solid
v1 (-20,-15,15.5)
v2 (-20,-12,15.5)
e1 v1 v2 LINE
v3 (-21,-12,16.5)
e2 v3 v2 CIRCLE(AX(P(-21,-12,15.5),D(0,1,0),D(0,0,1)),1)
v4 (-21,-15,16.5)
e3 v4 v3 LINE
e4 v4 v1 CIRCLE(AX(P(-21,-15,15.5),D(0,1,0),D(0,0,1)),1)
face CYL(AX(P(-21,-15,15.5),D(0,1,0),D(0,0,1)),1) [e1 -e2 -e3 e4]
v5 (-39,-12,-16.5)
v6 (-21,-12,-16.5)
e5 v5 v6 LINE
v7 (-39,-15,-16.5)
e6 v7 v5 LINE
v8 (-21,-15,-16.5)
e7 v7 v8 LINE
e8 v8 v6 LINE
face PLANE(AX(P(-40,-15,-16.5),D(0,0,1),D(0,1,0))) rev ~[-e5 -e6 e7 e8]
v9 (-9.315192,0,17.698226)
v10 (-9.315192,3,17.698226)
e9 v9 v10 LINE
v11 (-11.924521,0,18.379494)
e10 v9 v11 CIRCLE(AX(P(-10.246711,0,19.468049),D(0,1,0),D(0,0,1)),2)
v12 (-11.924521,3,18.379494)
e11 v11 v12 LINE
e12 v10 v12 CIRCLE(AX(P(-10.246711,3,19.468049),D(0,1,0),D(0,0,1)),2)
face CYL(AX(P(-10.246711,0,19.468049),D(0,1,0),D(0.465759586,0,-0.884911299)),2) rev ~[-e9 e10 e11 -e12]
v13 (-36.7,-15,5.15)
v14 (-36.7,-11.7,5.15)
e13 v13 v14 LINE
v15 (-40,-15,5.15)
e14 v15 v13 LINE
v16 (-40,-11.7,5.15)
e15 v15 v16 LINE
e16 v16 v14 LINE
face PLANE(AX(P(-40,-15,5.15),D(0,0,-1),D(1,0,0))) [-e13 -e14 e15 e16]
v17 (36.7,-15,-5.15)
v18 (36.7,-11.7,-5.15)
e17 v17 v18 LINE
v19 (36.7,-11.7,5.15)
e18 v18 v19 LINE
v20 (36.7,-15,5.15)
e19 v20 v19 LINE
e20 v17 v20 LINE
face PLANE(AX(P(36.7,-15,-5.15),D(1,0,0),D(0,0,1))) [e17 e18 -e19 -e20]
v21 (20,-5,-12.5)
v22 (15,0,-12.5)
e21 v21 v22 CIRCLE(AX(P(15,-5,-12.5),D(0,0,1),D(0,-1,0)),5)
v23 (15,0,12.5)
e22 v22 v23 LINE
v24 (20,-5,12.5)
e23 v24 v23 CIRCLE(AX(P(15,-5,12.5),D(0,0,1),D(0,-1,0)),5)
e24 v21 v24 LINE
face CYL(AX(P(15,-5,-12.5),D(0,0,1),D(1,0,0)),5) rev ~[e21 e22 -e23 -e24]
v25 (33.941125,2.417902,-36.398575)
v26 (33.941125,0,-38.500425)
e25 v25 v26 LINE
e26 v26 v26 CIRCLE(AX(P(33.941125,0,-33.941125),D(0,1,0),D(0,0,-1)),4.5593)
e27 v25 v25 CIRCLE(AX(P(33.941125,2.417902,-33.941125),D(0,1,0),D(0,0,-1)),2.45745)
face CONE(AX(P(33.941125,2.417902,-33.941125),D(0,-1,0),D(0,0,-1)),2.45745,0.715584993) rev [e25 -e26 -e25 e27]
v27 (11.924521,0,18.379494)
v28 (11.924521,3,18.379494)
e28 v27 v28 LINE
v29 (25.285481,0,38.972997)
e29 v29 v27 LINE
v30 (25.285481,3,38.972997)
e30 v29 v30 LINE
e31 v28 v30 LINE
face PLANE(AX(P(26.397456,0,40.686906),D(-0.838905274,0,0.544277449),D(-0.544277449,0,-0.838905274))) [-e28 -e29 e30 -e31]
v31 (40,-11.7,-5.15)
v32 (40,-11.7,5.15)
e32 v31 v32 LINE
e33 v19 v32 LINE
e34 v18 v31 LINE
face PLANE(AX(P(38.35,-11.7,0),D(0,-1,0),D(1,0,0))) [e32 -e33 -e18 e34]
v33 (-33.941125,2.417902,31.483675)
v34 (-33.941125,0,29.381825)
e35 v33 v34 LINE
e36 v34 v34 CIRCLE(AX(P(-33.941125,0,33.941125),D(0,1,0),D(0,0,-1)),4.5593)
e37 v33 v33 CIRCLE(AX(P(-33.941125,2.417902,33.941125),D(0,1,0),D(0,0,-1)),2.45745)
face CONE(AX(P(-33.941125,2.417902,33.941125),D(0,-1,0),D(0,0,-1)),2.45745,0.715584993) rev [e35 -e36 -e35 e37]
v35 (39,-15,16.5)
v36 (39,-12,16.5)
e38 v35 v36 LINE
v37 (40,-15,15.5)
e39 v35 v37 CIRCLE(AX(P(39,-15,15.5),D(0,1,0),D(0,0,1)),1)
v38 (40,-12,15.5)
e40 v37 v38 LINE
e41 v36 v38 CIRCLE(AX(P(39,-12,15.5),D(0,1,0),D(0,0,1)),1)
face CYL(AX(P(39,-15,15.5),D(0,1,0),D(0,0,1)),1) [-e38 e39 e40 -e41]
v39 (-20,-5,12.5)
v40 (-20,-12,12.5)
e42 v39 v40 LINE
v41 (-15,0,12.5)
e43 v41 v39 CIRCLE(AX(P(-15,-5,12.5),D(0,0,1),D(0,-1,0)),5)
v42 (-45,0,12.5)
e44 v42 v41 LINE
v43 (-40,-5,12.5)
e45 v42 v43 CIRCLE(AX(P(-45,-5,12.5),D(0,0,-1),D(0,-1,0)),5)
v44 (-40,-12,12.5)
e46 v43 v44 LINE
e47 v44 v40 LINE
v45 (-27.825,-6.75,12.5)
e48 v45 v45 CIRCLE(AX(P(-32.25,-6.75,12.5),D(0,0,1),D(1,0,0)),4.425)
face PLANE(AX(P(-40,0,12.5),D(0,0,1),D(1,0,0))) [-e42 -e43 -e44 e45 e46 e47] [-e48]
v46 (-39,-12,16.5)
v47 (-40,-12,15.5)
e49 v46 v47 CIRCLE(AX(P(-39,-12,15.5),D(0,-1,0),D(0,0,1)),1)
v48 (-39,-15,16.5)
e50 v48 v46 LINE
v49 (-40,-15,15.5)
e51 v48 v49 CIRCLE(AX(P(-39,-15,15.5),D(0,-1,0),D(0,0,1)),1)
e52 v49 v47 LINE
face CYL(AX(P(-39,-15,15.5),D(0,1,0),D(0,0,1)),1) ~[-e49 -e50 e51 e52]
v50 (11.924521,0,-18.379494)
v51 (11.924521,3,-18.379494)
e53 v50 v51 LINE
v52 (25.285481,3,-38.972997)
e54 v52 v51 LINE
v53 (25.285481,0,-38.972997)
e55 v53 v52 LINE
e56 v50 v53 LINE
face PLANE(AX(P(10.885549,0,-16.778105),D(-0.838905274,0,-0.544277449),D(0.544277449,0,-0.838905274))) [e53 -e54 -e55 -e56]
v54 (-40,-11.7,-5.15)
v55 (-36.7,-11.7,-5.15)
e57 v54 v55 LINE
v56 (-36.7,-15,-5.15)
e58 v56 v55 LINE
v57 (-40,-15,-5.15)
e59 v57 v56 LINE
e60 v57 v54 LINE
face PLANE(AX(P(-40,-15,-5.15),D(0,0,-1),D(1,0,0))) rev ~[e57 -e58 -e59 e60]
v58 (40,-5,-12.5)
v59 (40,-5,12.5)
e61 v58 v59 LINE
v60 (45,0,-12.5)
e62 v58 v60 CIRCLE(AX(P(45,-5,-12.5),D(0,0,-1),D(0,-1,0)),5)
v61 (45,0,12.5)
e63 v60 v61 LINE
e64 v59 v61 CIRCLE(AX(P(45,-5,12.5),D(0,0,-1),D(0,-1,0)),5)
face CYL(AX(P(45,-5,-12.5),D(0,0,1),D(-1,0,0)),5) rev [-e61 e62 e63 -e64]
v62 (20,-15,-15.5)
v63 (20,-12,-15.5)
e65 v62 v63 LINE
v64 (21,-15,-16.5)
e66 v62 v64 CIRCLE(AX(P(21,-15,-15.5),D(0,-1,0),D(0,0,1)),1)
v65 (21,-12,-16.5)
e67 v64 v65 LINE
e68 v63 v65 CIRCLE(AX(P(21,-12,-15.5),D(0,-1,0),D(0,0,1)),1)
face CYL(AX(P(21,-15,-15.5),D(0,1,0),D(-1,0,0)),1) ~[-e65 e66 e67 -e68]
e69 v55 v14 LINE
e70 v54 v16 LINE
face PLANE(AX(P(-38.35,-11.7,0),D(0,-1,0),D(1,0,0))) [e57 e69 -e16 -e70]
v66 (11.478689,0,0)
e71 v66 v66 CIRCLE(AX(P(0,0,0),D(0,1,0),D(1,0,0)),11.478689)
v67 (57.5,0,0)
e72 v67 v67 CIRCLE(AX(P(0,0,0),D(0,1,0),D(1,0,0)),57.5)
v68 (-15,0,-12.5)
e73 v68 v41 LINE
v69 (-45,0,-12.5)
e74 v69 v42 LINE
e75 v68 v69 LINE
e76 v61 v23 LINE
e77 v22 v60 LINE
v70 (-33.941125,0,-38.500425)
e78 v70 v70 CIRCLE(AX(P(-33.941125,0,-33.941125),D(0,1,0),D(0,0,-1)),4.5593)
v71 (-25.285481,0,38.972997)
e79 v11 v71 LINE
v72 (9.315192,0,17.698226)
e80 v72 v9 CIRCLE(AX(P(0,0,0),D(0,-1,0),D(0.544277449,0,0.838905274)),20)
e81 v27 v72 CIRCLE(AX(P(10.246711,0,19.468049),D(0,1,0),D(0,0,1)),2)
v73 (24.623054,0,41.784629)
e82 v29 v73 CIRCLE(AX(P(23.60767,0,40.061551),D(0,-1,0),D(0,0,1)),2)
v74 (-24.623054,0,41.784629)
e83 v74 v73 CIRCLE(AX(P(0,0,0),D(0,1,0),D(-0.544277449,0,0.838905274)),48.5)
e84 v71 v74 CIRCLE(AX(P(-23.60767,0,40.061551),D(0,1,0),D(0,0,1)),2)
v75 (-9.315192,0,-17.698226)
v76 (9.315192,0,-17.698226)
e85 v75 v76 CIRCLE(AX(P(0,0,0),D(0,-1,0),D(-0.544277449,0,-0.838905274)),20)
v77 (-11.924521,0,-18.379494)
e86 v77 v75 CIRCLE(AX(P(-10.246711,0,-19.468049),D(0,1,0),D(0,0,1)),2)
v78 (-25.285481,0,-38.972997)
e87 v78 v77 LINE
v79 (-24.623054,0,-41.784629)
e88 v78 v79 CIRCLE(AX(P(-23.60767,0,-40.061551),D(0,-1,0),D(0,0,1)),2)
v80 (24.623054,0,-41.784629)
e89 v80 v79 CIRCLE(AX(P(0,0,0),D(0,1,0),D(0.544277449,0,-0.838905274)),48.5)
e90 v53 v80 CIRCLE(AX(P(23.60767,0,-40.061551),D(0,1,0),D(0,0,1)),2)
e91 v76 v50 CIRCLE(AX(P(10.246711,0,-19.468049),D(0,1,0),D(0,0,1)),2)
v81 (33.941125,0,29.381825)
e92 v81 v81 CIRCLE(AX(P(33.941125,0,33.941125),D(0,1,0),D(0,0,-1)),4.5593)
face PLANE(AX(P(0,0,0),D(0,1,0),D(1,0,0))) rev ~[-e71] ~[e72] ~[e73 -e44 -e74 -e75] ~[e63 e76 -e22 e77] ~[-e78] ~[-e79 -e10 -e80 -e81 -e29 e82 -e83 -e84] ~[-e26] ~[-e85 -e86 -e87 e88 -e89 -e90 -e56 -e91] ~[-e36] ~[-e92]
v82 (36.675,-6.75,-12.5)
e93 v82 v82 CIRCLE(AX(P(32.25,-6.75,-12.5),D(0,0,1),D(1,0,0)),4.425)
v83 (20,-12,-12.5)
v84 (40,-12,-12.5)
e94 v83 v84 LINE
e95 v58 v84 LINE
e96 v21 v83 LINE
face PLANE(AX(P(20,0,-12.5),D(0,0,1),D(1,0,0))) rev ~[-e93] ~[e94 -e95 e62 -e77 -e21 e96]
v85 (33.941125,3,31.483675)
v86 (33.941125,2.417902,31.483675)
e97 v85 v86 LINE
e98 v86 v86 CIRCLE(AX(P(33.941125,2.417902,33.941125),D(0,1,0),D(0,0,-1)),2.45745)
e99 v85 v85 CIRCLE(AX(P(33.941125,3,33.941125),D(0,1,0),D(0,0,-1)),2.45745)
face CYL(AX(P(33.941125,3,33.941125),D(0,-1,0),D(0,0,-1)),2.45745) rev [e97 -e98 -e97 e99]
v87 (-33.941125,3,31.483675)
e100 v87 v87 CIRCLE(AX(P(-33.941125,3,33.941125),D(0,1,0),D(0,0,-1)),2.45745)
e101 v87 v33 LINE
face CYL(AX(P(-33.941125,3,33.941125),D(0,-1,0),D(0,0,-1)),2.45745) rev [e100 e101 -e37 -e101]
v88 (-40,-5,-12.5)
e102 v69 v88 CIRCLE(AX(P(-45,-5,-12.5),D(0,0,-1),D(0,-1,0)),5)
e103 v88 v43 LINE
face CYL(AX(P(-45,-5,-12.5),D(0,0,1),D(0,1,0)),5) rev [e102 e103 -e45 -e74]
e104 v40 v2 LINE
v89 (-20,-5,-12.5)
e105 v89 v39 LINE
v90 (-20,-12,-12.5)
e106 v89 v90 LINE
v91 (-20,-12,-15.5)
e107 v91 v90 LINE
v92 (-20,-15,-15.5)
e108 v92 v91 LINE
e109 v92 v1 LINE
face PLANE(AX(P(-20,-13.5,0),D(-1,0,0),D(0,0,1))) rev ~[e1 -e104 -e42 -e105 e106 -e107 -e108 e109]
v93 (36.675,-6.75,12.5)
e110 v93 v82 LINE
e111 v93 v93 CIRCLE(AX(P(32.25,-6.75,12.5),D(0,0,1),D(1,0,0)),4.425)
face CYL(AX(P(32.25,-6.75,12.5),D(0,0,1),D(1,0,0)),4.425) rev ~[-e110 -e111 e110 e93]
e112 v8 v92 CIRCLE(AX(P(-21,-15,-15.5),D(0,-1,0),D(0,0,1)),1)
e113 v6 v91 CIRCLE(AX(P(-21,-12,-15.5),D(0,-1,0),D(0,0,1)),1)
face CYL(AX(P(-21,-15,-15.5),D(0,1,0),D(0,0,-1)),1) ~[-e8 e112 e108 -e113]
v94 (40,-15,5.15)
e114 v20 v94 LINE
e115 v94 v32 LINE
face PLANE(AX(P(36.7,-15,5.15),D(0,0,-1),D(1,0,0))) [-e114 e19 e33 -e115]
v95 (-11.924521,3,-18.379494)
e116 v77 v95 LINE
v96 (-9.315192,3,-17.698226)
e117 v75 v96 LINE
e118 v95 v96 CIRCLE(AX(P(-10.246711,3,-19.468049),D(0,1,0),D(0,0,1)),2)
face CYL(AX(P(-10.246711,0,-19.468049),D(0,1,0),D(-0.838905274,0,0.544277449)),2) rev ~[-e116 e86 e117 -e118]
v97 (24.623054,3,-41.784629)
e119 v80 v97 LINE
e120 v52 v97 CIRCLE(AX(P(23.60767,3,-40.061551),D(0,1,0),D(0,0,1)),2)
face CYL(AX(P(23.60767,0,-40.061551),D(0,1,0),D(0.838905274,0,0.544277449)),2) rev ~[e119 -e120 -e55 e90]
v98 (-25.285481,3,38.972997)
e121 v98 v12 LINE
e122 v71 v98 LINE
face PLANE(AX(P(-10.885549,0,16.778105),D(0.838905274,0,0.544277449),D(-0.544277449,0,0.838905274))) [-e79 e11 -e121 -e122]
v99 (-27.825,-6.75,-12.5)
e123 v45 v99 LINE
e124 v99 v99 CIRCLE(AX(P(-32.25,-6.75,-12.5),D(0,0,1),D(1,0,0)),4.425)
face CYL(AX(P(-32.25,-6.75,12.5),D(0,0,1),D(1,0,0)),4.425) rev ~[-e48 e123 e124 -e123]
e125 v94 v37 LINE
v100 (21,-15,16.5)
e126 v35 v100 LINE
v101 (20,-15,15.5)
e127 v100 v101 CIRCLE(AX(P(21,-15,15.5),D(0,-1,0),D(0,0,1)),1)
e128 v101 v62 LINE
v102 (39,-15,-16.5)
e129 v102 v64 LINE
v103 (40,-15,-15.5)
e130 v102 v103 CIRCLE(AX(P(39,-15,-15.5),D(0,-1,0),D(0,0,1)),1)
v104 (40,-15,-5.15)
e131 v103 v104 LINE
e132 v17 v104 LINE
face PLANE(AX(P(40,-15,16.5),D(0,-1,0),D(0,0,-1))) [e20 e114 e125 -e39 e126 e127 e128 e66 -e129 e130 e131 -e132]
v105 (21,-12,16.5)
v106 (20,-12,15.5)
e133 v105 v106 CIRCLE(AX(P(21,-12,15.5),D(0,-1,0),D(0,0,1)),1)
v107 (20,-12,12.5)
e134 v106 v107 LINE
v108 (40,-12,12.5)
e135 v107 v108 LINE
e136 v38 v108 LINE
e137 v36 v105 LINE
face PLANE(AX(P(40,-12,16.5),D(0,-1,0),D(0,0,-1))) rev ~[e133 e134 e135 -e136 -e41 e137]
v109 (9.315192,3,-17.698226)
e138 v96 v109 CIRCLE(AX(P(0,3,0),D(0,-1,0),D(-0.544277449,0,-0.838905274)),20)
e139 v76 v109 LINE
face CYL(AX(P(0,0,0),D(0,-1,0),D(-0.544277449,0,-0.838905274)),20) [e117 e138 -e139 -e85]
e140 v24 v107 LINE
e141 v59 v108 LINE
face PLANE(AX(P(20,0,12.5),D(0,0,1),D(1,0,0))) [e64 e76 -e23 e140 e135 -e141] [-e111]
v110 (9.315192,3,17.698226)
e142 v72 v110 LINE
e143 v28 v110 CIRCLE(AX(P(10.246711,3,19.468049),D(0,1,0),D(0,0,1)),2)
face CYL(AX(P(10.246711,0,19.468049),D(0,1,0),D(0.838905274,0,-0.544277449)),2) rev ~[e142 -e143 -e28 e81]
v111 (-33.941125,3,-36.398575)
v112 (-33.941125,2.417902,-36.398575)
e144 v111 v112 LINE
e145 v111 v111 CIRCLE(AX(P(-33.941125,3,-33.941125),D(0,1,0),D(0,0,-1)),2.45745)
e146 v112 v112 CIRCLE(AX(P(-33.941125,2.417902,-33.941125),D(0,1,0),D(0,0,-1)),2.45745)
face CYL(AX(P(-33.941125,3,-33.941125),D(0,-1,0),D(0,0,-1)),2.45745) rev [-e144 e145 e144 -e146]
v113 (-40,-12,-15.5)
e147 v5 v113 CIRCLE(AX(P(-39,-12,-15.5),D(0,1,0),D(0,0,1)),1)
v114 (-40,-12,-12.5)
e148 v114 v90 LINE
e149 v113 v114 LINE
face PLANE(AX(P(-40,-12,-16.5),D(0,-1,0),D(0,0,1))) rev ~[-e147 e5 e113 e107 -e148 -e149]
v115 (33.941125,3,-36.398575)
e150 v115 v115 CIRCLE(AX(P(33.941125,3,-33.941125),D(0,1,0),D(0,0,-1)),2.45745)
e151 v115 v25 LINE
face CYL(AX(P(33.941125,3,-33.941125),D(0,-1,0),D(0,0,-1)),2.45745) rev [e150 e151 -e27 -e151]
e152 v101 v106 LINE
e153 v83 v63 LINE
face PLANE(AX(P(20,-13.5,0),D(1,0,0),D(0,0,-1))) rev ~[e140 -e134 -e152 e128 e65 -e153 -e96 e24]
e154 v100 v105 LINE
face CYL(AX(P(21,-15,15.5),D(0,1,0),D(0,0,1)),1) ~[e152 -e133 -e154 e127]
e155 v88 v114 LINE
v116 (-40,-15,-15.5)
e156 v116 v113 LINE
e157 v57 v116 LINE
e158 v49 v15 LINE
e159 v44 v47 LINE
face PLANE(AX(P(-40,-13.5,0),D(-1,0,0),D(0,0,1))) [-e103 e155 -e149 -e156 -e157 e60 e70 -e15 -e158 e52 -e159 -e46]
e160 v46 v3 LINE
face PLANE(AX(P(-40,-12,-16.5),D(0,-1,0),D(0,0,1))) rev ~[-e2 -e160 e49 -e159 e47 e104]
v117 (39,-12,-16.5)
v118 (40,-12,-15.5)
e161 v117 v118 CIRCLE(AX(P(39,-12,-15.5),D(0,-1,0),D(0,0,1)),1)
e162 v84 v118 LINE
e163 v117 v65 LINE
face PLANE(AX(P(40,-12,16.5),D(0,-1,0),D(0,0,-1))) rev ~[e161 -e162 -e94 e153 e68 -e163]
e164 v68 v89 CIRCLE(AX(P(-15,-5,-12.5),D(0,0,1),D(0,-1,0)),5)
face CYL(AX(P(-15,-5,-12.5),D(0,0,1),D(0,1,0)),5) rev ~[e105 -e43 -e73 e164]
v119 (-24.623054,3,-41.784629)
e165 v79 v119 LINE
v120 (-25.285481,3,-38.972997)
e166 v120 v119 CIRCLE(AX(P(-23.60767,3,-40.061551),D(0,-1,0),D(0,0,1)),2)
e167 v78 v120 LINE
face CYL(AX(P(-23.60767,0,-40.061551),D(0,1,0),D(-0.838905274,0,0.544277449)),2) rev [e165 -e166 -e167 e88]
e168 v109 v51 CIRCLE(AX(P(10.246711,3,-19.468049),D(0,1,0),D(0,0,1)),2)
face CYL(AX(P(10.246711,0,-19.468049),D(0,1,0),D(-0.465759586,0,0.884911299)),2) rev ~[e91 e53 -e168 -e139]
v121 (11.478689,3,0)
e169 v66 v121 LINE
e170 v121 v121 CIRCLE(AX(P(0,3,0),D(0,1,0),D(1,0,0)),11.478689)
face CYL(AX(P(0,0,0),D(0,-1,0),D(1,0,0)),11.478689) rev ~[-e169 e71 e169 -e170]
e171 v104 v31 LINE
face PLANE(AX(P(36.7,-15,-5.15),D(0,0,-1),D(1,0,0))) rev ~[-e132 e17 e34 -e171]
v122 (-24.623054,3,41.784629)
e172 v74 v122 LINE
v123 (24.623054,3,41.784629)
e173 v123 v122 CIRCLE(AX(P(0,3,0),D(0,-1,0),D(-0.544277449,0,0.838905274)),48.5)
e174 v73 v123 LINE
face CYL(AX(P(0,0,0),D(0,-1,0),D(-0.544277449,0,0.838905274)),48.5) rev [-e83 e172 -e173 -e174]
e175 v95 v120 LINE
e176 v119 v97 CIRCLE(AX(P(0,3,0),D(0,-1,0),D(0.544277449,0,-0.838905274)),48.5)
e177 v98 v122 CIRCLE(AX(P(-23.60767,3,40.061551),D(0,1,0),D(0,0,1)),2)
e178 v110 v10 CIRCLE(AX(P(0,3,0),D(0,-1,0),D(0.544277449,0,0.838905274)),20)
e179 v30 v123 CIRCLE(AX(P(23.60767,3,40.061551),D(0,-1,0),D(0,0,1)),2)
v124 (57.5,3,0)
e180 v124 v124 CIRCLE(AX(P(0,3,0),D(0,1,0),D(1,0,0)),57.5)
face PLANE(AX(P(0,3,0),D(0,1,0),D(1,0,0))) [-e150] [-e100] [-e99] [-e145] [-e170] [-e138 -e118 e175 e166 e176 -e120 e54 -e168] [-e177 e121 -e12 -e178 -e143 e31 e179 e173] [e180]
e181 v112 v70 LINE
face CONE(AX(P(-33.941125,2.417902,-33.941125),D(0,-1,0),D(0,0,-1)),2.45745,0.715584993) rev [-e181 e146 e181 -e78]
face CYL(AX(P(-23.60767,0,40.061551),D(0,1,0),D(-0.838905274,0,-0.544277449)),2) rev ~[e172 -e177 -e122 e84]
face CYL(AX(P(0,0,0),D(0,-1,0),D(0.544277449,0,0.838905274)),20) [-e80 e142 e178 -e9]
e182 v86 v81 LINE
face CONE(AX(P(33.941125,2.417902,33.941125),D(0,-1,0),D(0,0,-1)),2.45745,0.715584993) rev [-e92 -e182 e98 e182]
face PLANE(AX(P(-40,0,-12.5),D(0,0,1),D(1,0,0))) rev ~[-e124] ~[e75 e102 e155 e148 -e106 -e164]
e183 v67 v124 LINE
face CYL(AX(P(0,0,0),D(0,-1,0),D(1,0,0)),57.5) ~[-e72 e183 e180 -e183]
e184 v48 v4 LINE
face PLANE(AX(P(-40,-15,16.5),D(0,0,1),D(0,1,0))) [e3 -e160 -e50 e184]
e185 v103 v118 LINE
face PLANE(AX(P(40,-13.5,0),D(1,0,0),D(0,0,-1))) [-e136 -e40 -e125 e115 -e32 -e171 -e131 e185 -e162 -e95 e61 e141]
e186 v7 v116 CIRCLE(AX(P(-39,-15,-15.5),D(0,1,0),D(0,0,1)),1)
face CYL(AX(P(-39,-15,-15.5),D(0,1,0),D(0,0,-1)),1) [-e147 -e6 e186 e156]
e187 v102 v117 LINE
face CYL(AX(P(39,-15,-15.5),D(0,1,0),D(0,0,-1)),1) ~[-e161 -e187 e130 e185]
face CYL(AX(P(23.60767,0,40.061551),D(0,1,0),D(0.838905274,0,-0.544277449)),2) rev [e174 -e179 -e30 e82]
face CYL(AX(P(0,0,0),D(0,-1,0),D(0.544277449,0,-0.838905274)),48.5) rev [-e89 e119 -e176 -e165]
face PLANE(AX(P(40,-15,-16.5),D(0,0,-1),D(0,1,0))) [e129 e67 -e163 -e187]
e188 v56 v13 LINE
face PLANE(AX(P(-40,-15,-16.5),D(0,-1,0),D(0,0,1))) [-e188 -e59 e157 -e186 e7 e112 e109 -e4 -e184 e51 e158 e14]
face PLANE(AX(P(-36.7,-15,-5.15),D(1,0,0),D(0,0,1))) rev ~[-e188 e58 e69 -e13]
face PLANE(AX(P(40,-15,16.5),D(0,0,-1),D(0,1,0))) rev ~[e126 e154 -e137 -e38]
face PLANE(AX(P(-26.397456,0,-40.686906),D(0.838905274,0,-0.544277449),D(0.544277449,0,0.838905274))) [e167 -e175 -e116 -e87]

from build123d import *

# Parameters (mm, degrees)
SKETCH1_R                                     = 57.5
SKETCH1_R_2                                   = 0.5
SKETCH1_W                                     = 9.3
SKETCH1_H                                     = 9.875
BOSS_EXTRUDE1_DEPTH                           = 3
CSK_FOR_8_FLAT_HEAD_SOCKET_CAP_SCREW1_A_COUNT = 2
CSK_FOR_8_FLAT_HEAD_SOCKET_CAP_SCREW1_A_PITCH = 67.882250994
CSK_FOR_8_FLAT_HEAD_SOCKET_CAP_SCRE_2_COUNT   = 2
CSK_FOR_8_FLAT_HEAD_SOCKET_CAP_SCRE_2_PITCH   = 96
CSK_FOR_8_FLAT_HEAD_SOCKET_CAP_SCRE_3_COUNT   = 2
CSK_FOR_8_FLAT_HEAD_SOCKET_CAP_SCRE_3_PITCH   = 67.882250994
SKETCH5_W                                     = 4.0625
SKETCH5_H                                     = 9.875
CUT_EXTRUDE2_DEPTH                            = 4
SKETCH6_W                                     = 20
SKETCH6_H                                     = 25
BOSS_EXTRUDE2_DEPTH                           = 15
SKETCH7_R                                     = 4.425
CUT_EXTRUDE3_DEPTH                            = 71
SKETCH8_W                                     = 33
SKETCH8_H                                     = 3
BOSS_EXTRUDE3_DEPTH                           = 20
SKETCH9_W                                     = 33
SKETCH9_H                                     = 3
BOSS_EXTRUDE4_DEPTH                           = 20
FILLET1_R                                     = 1
FILLET2_R                                     = 5
CUT_EXTRUDE4_DEPTH                            = 4
FILLET3_R                                     = 2
SKETCH11_W                                    = 3.3
SKETCH11_H                                    = 10.3
CUT_EXTRUDE5_DEPTH                            = 3.3
SKETCH12_R                                    = 11.478689494
CUT_EXTRUDE6_DEPTH                            = 4


with BuildPart() as part:
    # Sketch1 → Boss-Extrude1 (new body)
    with BuildSketch(Plane(origin=(0, 0, 0), x_dir=(1, 0, 0), z_dir=(0, 1, 0))):
        Circle(SKETCH1_R)
        with Locations((-33.941125497, 33.941125497)):
            Circle(SKETCH1_R_2, mode=Mode.SUBTRACT)
        with Locations((33.941125497, 33.941125497)):
            Circle(SKETCH1_R_2, mode=Mode.SUBTRACT)
        with Locations((33.941125497, -33.941125497)):
            Circle(SKETCH1_R_2, mode=Mode.SUBTRACT)
        with Locations((-33.941125497, -33.941125497)):
            Circle(SKETCH1_R_2, mode=Mode.SUBTRACT)
        with Locations((1.65, 0)):
            Rectangle(SKETCH1_W, SKETCH1_H, mode=Mode.SUBTRACT)
    extrude(amount=BOSS_EXTRUDE1_DEPTH)

    # Sketch2 → CSK for #8 Flat Head Socket Cap Screw1 (revolve, cut)
    with BuildSketch(Plane(origin=(-33.941125497, 0, 33.941125497), x_dir=(0, 0, -1), z_dir=(1, 0, 0))):
        Polygon((0, 0), (0, 3), (2.45745, 3), (2.45745, 2.417901837), (4.5593, 0), align=None)
    csk_for_8_flat_head_socket_cap_screw1 = revolve(axis=Axis((-33.941125497, -6.35, 33.941125497), (0, 1, 0)), mode=Mode.SUBTRACT)

    # CSK for #8 Flat Head Socket Cap Screw1 a: CSK for #8 Flat Head Socket Cap Screw1 ×2
    with Locations(*[(i * CSK_FOR_8_FLAT_HEAD_SOCKET_CAP_SCREW1_A_PITCH, 0, 0) for i in range(1, CSK_FOR_8_FLAT_HEAD_SOCKET_CAP_SCREW1_A_COUNT)]):
        add(csk_for_8_flat_head_socket_cap_screw1, mode=Mode.SUBTRACT)

    # CSK for _8 Flat Head Socket Cap Scre 2: CSK for #8 Flat Head Socket Cap Screw1 ×2
    with Locations(*[Vector(0.707106781, 0, -0.707106781) * (i * CSK_FOR_8_FLAT_HEAD_SOCKET_CAP_SCRE_2_PITCH) for i in range(1, CSK_FOR_8_FLAT_HEAD_SOCKET_CAP_SCRE_2_COUNT)]):
        add(csk_for_8_flat_head_socket_cap_screw1, mode=Mode.SUBTRACT)

    # CSK for _8 Flat Head Socket Cap Scre 3: CSK for #8 Flat Head Socket Cap Screw1 ×2
    with Locations(*[(0, 0, -i * CSK_FOR_8_FLAT_HEAD_SOCKET_CAP_SCRE_3_PITCH) for i in range(1, CSK_FOR_8_FLAT_HEAD_SOCKET_CAP_SCRE_3_COUNT)]):
        add(csk_for_8_flat_head_socket_cap_screw1, mode=Mode.SUBTRACT)

    # Sketch5 → Cut-Extrude2 (cut, through all)
    with BuildSketch(Plane.XZ):
        with Locations((8.33125, 0)):
            Rectangle(SKETCH5_W, SKETCH5_H)
        with Locations((-5.03125, 0)):
            Rectangle(SKETCH5_W, SKETCH5_H)
    extrude(amount=-CUT_EXTRUDE2_DEPTH, mode=Mode.SUBTRACT)

    # Sketch6 → Boss-Extrude2 (add)
    with BuildSketch(Plane.XZ):
        with Locations((-30, 0)):
            Rectangle(SKETCH6_W, SKETCH6_H)
        with Locations((30, 0)):
            Rectangle(SKETCH6_W, SKETCH6_H)
    extrude(amount=BOSS_EXTRUDE2_DEPTH)

    # Sketch7 → Cut-Extrude3 (cut, through all)
    with BuildSketch(Plane.XY.offset(12.5)):
        with Locations((-32.25, -6.75)):
            Circle(SKETCH7_R)
        with Locations((32.25, -6.75)):
            Circle(SKETCH7_R)
    extrude(amount=-CUT_EXTRUDE3_DEPTH, mode=Mode.SUBTRACT)

    # Sketch8 → Boss-Extrude3 (add)
    with BuildSketch(Plane.ZY.offset(40)):
        with Locations((0, -13.5)):
            Rectangle(SKETCH8_W, SKETCH8_H)
    extrude(amount=-BOSS_EXTRUDE3_DEPTH)

    # Sketch9 → Boss-Extrude4 (add)
    with BuildSketch(Plane(origin=(40, 0, 0), x_dir=(0, 0, -1), z_dir=(1, 0, 0))):
        with Locations((0, -13.5)):
            Rectangle(SKETCH9_W, SKETCH9_H)
    extrude(amount=-BOSS_EXTRUDE4_DEPTH)

    # Fillet1
    fillet1_edges = [part.edges().sort_by_distance(p)[0] for p in [
        (-40, -13.5, -16.5),
        (-40, -13.5, 16.5),
        (-20, -13.5, -16.5),
        (-20, -13.5, 16.5),
        (40, -13.5, 16.5),
        (40, -13.5, -16.5),
        (20, -13.5, 16.5),
        (20, -13.5, -16.5),
    ]]
    fillet(fillet1_edges, radius=FILLET1_R)

    # Fillet2
    fillet2_edges = [part.edges().sort_by_distance(p)[0] for p in [
        (20, 0, 0),
        (40, 0, 0),
        (-40, 0, 0),
        (-20, 0, 0),
    ]]
    fillet(fillet2_edges, radius=FILLET2_R)

    # Sketch10 → Cut-Extrude4 (cut, through all)
    with BuildSketch(Plane.XZ):
        with BuildLine():
            Line((26.397456258, 40.686905794), (10.885548972, 16.778105482))
            ThreePointArc((10.885548972, 16.778105482), (0, 20), (-10.885548972, 16.778105482))
            Line((-10.885548972, 16.778105482), (-26.397456258, 40.686905794))
            ThreePointArc((-26.397456258, 40.686905794), (0, 48.5), (26.397456258, 40.686905794))
        make_face()
        with BuildLine():
            Line((-26.397456258, -40.686905794), (-10.885548972, -16.778105482))
            ThreePointArc((-10.885548972, -16.778105482), (0, -20), (10.885548972, -16.778105482))
            Line((10.885548972, -16.778105482), (26.397456258, -40.686905794))
            ThreePointArc((26.397456258, -40.686905794), (0, -48.5), (-26.397456258, -40.686905794))
        make_face()
    extrude(amount=-CUT_EXTRUDE4_DEPTH, mode=Mode.SUBTRACT)

    # Fillet3
    fillet3_edges = [part.edges().sort_by_distance(p)[0] for p in [
        (-26.397456258, 1.5, 40.686905794),
        (26.397456258, 1.5, 40.686905794),
        (10.885548972, 1.5, 16.778105482),
        (-10.885548972, 1.5, 16.778105482),
        (-10.885548972, 1.5, -16.778105482),
        (10.885548972, 1.5, -16.778105482),
        (26.397456258, 1.5, -40.686905794),
        (-26.397456258, 1.5, -40.686905794),
    ]]
    fillet(fillet3_edges, radius=FILLET3_R)

    # Sketch11 → Cut-Extrude5 (cut)
    with BuildSketch(Plane.XZ.offset(15)):
        with Locations((-38.35, 0)):
            Rectangle(SKETCH11_W, SKETCH11_H)
        with Locations((38.35, 0)):
            Rectangle(SKETCH11_W, SKETCH11_H)
    extrude(amount=-CUT_EXTRUDE5_DEPTH, mode=Mode.SUBTRACT)

    # Sketch12 → Cut-Extrude6 (cut, through all)
    with BuildSketch(Plane.XZ):
        Circle(SKETCH12_R)
    extrude(amount=-CUT_EXTRUDE6_DEPTH, mode=Mode.SUBTRACT)


solid = part.part
